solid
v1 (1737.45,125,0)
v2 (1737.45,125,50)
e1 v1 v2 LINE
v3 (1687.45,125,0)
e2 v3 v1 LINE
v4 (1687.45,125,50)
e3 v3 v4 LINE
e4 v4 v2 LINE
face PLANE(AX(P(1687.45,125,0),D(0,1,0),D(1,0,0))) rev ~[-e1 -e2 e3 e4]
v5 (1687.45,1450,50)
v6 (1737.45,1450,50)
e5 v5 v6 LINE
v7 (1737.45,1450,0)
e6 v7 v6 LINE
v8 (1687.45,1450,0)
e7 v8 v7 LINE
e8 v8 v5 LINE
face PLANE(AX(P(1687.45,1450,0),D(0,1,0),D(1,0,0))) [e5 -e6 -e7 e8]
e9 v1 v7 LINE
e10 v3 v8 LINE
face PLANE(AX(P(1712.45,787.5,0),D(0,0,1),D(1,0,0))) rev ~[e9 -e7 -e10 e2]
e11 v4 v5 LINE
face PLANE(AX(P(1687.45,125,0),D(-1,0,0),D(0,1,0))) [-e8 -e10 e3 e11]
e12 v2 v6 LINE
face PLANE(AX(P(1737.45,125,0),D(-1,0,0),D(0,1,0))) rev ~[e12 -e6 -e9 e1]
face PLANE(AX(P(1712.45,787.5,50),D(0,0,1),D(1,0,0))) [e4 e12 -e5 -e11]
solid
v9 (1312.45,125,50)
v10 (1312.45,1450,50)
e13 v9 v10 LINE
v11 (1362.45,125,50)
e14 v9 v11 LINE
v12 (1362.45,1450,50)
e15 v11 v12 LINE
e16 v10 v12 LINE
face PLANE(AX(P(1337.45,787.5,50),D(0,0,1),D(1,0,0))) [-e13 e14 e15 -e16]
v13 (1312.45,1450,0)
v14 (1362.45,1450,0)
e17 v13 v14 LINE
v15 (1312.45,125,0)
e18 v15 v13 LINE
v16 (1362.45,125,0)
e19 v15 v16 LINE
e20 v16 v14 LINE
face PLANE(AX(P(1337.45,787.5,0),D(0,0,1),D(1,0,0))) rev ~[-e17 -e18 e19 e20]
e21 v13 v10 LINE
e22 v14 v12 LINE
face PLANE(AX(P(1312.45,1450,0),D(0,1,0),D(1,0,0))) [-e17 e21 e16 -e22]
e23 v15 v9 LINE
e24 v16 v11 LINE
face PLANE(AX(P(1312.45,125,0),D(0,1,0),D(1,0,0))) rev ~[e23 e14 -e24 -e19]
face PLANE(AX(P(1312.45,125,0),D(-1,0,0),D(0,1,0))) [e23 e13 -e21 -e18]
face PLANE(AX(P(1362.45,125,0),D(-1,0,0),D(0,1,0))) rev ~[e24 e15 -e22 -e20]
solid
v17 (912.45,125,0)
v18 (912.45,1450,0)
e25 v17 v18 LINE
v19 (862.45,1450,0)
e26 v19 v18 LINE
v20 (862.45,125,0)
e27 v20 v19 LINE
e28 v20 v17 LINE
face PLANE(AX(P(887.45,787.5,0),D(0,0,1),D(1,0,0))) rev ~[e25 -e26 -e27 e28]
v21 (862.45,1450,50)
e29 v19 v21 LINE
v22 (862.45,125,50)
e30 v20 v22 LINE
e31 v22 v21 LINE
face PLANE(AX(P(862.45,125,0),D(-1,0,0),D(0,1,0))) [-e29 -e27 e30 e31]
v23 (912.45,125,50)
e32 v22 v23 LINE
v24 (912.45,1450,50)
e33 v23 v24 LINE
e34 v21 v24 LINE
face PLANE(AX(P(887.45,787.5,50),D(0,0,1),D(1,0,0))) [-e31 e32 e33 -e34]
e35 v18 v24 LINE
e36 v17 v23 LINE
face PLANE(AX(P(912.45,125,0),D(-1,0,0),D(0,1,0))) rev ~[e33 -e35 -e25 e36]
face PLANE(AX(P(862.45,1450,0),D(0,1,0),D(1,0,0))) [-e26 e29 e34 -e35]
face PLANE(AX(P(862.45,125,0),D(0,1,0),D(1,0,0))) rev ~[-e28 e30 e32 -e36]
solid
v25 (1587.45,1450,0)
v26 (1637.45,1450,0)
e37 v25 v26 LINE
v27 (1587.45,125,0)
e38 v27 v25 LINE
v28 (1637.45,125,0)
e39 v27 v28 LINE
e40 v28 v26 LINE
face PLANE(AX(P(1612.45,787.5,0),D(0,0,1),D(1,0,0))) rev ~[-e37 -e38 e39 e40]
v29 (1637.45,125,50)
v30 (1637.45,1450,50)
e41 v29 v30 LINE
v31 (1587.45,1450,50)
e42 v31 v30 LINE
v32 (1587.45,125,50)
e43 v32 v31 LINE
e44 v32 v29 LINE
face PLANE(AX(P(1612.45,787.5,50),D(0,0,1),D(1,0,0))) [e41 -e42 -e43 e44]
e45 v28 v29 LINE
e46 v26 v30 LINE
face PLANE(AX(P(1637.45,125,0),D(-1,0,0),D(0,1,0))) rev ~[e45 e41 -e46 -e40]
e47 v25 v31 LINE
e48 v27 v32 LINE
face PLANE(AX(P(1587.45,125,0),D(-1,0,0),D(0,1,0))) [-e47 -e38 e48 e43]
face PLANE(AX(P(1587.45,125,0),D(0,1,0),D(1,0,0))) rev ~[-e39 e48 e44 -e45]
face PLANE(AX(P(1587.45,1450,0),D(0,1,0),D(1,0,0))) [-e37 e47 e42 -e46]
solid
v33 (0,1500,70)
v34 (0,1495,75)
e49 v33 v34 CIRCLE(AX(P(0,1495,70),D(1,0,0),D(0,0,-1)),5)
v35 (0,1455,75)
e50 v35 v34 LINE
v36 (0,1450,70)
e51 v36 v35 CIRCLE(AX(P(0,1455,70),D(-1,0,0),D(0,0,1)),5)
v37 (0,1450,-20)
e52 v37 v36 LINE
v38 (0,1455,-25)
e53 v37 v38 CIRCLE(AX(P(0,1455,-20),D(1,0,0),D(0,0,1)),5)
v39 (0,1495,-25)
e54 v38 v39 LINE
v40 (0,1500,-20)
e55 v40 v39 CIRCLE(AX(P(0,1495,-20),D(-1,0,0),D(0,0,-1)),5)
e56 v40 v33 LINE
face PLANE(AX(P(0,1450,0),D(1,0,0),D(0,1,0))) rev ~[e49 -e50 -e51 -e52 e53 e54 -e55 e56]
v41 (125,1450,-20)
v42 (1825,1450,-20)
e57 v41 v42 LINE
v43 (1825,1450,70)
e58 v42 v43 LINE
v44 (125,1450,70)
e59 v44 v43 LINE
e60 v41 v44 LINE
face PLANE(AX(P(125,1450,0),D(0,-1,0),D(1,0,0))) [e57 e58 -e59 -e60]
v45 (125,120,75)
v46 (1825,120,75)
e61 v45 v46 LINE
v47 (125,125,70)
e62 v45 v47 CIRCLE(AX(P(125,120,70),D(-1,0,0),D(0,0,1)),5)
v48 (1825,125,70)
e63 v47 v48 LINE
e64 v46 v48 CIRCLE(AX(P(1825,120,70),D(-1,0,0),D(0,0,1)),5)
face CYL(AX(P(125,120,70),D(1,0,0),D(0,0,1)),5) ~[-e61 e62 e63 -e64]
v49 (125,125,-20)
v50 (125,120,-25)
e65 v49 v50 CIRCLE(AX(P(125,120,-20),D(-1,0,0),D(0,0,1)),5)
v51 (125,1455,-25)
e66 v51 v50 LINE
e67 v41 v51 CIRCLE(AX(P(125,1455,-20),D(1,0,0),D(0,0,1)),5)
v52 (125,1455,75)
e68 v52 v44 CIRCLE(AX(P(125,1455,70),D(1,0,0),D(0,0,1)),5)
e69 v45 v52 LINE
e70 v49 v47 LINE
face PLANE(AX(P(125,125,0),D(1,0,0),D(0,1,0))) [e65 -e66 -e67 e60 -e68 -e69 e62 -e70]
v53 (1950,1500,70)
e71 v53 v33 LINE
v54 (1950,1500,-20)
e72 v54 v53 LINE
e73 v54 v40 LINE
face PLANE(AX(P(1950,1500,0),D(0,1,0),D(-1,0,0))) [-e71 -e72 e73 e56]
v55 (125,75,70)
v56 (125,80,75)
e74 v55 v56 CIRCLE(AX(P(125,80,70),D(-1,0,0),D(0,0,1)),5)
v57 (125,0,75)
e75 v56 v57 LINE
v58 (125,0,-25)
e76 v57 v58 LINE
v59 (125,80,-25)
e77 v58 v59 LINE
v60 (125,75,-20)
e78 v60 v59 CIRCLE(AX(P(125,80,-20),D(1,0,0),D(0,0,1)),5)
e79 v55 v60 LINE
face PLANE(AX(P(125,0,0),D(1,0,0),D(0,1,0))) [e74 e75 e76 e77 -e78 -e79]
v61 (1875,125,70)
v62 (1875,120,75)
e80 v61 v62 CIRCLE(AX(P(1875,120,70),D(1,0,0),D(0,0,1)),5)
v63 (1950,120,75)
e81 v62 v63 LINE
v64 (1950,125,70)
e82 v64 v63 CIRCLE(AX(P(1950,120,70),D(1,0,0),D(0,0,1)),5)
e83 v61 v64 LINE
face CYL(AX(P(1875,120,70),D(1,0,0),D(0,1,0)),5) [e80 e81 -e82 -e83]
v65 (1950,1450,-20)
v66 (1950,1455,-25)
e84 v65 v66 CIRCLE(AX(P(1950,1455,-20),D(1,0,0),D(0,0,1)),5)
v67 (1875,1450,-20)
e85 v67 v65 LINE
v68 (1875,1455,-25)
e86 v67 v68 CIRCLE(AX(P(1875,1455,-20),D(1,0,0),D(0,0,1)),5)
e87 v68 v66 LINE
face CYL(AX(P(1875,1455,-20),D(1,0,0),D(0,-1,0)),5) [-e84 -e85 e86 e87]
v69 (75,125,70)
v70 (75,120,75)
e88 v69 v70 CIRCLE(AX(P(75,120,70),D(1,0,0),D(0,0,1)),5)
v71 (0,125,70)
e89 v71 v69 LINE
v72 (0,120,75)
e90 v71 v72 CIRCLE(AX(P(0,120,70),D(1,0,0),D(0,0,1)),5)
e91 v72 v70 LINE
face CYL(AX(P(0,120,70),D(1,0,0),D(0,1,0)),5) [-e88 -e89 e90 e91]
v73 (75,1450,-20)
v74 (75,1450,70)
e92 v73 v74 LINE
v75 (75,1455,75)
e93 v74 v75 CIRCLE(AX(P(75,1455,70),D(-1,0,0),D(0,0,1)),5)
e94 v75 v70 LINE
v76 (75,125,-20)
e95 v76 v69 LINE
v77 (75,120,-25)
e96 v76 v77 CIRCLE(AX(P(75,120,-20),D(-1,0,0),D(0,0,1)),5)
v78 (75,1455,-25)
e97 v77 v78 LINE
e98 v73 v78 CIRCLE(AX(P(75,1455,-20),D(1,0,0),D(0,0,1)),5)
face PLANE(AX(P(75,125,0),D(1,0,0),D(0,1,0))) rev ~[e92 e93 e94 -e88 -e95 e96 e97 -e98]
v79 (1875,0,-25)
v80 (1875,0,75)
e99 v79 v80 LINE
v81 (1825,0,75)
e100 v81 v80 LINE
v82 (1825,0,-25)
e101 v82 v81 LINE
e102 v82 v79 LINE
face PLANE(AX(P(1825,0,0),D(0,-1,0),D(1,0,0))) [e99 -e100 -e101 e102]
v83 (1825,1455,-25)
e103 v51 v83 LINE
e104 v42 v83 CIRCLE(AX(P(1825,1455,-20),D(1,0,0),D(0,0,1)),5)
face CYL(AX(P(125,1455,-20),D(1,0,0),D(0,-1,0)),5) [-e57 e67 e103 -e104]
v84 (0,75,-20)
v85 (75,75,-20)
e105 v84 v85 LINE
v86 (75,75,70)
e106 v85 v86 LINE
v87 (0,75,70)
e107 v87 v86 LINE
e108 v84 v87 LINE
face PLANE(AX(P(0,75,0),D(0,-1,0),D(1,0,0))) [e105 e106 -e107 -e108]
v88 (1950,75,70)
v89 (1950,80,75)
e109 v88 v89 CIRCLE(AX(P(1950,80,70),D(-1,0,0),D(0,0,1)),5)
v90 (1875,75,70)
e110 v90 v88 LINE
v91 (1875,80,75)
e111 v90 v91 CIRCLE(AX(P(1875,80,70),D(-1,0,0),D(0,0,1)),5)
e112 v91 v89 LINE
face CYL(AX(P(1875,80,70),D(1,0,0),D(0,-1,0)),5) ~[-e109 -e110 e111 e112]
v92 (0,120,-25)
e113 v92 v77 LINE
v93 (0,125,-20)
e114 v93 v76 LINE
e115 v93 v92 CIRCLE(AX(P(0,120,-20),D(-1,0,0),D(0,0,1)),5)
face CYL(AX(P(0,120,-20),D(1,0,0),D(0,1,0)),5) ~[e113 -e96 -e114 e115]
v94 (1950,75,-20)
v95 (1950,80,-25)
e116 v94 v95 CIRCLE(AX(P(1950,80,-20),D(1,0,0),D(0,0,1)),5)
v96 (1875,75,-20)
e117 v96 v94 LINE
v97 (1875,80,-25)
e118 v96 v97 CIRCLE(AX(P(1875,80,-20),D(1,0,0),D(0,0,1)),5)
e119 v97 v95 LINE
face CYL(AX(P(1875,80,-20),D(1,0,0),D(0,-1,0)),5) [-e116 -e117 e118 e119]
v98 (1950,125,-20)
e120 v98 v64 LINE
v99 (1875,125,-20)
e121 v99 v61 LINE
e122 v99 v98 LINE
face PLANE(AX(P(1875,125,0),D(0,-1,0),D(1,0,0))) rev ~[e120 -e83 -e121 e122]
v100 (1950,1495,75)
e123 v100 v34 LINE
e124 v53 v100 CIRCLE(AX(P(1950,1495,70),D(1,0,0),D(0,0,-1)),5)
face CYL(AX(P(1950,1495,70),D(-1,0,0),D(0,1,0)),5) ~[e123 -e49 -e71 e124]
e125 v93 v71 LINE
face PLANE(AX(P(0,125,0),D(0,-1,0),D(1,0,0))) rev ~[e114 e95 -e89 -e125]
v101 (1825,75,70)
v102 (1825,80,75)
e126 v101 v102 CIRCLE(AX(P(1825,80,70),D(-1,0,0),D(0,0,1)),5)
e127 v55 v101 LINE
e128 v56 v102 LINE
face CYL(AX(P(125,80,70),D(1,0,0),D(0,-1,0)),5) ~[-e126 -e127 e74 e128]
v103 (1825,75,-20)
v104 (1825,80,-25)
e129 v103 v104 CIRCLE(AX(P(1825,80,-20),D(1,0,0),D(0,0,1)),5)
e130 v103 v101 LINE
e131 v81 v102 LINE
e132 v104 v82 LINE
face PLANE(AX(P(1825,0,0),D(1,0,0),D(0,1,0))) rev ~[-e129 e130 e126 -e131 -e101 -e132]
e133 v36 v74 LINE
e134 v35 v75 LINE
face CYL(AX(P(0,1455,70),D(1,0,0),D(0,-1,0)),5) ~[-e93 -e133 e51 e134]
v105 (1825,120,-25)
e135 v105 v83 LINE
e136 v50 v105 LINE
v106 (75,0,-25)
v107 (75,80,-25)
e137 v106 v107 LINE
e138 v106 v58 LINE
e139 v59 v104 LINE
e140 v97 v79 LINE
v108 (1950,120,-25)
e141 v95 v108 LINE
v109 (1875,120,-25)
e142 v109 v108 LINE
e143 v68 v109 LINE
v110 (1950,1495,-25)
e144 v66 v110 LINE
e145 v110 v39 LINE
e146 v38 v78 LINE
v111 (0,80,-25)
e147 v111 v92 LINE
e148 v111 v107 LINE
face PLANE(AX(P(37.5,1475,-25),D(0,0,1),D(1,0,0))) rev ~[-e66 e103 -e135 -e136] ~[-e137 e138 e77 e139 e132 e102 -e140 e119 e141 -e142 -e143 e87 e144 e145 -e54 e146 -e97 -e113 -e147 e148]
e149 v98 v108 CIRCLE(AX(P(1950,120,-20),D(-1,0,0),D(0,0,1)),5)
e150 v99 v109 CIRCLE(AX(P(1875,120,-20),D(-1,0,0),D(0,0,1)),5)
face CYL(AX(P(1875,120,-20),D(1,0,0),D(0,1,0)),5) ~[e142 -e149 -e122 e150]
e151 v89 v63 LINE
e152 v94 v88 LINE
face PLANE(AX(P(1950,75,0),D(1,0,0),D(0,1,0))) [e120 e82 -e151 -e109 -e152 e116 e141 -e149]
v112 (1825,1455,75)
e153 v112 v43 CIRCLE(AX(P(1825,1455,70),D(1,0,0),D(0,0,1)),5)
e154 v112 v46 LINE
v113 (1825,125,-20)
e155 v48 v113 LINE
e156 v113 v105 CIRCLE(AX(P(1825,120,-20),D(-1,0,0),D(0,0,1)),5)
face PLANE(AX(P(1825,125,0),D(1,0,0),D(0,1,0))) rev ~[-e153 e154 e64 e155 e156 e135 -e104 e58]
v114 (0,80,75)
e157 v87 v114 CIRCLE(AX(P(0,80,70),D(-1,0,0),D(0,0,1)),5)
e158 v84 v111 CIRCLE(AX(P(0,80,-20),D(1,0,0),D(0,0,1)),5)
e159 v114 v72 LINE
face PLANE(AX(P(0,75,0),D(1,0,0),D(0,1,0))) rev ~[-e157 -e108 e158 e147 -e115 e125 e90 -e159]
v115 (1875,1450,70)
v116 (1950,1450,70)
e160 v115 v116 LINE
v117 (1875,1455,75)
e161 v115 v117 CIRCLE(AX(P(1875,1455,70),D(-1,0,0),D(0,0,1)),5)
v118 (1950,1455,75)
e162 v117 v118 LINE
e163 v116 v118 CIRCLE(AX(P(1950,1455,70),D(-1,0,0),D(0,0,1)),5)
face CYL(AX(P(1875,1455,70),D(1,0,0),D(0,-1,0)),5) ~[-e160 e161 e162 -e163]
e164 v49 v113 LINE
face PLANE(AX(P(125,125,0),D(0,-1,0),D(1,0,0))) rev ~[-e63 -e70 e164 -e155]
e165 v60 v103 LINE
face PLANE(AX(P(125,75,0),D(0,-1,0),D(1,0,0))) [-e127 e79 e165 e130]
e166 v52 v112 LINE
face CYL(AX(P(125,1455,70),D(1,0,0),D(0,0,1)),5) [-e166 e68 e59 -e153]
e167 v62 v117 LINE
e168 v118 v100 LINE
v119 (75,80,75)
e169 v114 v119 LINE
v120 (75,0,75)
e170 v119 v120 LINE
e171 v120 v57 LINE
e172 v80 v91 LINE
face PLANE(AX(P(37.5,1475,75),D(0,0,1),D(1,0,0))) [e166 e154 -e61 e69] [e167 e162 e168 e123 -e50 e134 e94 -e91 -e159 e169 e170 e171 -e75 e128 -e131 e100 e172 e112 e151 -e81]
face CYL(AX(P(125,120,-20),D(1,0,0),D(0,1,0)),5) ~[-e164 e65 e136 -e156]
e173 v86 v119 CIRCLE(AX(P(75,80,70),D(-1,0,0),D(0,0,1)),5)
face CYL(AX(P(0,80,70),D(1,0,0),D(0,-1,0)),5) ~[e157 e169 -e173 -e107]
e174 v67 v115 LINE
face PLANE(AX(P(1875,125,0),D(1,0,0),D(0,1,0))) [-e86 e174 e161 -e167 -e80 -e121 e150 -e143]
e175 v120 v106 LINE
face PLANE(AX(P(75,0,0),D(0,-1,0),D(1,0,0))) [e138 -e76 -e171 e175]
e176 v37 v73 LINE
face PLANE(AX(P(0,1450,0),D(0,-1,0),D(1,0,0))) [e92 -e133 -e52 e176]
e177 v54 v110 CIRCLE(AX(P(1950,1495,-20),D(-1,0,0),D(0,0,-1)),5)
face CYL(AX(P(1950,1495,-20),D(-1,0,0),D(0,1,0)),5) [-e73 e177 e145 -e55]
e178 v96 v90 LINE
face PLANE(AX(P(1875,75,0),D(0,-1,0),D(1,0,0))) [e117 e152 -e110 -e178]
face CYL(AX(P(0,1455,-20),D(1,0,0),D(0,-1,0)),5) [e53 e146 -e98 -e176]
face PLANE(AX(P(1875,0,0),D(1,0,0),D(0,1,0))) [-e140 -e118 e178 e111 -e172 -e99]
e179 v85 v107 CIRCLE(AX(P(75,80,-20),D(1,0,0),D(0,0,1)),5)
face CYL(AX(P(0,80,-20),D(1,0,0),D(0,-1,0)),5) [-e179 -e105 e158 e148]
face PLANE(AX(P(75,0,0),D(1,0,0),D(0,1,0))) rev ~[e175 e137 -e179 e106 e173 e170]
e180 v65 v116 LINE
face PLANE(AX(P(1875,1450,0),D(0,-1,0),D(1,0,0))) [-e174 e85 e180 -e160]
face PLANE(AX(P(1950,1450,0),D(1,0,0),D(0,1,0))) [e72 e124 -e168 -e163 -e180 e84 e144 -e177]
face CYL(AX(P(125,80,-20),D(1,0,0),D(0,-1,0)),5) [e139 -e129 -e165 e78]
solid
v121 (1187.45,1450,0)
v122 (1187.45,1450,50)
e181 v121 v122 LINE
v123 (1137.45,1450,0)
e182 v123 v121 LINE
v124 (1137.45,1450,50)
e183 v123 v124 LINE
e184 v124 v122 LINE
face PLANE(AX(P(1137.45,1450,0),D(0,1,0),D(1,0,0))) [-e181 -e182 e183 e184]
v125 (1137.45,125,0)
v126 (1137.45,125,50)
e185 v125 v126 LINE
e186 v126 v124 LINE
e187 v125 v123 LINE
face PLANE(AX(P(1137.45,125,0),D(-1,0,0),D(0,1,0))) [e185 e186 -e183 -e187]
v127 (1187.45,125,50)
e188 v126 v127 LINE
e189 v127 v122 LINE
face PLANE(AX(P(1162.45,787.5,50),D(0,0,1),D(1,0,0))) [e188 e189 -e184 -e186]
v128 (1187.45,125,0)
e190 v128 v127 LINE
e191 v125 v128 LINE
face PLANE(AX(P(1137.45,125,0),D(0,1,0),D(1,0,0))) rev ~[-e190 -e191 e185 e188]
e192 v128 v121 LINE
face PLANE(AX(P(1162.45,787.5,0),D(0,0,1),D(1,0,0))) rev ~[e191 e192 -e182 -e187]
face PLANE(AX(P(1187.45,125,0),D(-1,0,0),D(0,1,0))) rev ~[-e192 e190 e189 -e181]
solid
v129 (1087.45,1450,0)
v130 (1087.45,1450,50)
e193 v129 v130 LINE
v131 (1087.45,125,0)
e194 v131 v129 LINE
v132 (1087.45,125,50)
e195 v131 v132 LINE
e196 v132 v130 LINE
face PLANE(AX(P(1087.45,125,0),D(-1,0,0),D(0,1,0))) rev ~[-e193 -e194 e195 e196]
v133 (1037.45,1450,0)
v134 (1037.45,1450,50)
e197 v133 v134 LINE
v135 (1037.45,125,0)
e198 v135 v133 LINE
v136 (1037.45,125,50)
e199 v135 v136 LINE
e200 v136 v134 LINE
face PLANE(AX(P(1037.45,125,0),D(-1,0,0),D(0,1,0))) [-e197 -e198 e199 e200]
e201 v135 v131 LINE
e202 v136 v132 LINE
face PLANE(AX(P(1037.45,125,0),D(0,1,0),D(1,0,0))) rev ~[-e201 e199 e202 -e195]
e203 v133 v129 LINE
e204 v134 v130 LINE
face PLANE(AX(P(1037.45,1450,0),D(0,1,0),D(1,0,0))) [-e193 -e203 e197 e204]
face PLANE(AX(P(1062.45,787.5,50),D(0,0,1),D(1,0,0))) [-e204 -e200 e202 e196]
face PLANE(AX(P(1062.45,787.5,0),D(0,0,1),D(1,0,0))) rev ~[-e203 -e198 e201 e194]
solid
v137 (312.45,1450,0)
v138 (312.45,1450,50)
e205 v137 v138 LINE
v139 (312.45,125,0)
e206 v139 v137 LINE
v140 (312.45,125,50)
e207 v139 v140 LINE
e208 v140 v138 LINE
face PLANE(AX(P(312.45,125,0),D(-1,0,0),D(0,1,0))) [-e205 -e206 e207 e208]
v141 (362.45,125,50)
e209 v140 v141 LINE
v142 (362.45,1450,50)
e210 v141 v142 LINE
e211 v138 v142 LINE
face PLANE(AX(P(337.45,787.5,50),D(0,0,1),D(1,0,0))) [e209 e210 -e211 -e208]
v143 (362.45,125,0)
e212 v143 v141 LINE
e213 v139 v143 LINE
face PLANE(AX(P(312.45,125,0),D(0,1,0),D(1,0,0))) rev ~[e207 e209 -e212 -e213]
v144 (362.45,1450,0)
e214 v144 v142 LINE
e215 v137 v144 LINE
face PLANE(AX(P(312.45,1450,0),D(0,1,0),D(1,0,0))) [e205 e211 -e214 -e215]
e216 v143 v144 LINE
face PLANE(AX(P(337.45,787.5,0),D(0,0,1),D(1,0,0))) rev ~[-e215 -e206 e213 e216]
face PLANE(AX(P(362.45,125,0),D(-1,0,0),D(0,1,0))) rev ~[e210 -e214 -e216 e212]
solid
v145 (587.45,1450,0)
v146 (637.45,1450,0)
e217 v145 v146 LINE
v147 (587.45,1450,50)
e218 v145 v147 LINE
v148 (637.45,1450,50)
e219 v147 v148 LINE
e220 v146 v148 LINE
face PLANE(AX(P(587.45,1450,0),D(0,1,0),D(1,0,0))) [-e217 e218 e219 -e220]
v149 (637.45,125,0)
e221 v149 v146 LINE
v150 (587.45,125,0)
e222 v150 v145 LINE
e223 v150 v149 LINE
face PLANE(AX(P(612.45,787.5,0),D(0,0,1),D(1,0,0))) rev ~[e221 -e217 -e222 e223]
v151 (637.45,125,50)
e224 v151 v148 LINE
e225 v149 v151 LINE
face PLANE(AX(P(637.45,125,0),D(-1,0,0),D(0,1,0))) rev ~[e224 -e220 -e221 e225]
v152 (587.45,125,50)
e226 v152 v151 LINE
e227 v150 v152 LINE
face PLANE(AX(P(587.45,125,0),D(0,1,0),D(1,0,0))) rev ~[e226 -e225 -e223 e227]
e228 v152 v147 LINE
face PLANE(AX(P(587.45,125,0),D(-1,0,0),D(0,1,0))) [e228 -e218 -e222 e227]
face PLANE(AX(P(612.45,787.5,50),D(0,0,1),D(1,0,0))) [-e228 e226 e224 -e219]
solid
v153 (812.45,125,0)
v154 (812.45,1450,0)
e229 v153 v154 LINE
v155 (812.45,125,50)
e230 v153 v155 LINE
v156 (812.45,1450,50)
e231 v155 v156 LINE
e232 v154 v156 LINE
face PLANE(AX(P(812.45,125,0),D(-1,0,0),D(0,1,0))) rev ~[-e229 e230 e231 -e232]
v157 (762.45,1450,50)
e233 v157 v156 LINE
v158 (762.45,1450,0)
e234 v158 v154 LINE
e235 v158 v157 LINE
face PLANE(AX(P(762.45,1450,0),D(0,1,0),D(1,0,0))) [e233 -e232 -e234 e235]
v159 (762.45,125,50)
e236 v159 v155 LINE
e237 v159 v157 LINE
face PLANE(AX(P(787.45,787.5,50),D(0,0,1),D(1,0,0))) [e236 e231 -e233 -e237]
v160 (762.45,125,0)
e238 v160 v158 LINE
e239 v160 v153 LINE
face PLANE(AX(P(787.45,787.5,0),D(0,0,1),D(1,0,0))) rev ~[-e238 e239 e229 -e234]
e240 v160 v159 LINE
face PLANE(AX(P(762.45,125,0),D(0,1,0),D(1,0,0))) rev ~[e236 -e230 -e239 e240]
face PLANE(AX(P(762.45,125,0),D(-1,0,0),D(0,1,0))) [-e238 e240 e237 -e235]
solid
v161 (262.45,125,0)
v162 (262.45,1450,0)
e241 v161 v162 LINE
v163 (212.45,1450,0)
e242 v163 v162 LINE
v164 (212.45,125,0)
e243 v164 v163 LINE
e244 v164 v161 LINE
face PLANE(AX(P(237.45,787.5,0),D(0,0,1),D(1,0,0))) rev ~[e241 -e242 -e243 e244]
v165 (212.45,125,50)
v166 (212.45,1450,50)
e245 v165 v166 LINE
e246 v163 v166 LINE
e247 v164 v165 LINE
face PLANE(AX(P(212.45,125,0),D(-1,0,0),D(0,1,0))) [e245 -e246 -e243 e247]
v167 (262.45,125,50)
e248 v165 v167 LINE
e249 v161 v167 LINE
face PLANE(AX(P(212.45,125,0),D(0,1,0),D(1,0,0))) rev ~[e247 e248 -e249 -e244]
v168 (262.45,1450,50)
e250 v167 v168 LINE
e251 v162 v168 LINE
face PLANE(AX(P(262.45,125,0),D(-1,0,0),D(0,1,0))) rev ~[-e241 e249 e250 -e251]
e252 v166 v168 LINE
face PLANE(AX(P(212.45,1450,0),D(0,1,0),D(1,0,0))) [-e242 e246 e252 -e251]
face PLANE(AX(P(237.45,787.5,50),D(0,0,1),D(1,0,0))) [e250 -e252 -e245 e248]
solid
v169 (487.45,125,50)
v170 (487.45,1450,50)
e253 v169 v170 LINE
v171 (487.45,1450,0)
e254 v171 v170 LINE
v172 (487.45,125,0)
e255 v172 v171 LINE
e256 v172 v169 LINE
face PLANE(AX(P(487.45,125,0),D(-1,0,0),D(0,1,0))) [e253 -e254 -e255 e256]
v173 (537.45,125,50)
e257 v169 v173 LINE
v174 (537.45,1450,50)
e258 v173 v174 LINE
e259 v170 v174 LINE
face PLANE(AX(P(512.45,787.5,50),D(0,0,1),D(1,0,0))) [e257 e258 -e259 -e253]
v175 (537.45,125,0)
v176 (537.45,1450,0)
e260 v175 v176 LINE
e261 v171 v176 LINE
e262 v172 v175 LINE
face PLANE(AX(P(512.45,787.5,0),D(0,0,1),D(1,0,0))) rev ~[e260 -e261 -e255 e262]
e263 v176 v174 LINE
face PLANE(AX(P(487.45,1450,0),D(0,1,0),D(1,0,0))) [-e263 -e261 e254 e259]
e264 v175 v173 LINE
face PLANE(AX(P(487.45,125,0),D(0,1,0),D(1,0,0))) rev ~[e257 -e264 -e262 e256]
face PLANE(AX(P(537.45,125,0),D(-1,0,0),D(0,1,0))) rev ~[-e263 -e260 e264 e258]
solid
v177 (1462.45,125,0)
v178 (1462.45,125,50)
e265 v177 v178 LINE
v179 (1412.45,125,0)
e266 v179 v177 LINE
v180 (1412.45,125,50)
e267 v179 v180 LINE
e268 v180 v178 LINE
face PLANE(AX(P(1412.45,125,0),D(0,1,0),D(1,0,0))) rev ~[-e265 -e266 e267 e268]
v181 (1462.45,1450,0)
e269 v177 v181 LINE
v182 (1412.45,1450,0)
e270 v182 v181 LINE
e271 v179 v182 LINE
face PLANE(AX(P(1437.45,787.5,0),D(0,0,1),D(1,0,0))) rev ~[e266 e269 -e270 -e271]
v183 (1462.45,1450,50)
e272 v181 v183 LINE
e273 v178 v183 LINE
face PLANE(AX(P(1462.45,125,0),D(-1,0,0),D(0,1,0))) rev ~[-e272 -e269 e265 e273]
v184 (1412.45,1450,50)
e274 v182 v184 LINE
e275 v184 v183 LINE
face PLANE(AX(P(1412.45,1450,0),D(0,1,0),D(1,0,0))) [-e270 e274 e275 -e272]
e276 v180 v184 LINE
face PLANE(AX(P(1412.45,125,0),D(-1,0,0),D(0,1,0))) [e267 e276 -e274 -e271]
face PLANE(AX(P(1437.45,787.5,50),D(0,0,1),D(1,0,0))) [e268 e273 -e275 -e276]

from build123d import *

# Parameters (mm, degrees)
F0_W          = 75
F0_H          = 50
F0_W_2        = 50
F0_W_3        = 1700
F0_H_2        = 1325
F0_H_3        = 75
F1_DEPTH      = 75
F1_DEPTH_BACK = 25
F2_R          = 5
F3_W          = 50
F3_H          = 1325
F4_DEPTH      = 50


with BuildPart() as f1:
    # F0 (on Top) → F1 (new body, two sides)
    with BuildSketch(Plane.XY) as f1_sk:
        with Locations((37.5, 1475)):
            Rectangle(F0_W, F0_H)
        with Locations((100, 1475)):
            Rectangle(F0_W_2, F0_H)
        with Locations((975, 1475)):
            Rectangle(F0_W_3, F0_H)
        with Locations((100, 787.5)):
            Rectangle(F0_W_2, F0_H_2)
        with Locations((1850, 1475)):
            Rectangle(F0_W_2, F0_H)
        with Locations((37.5, 100)):
            Rectangle(F0_W, F0_H)
        with Locations((100, 100)):
            Rectangle(F0_W_2, F0_H)
        with Locations((1912.5, 1475)):
            Rectangle(F0_W, F0_H)
        with Locations((1850, 787.5)):
            Rectangle(F0_W_2, F0_H_2)
        with Locations((975, 100)):
            Rectangle(F0_W_3, F0_H)
        with Locations((100, 37.5)):
            Rectangle(F0_W_2, F0_H_3)
        with Locations((1850, 100)):
            Rectangle(F0_W_2, F0_H)
        with Locations((1912.5, 100)):
            Rectangle(F0_W, F0_H)
        with Locations((1850, 37.5)):
            Rectangle(F0_W_2, F0_H_3)
    extrude(amount=F1_DEPTH)
    extrude(f1_sk.sketch, amount=-F1_DEPTH_BACK)

    # F2
    f2_edges = [f1.edges().sort_by_distance(p)[0] for p in [
        (975, 1450, 75),
        (975, 1500, 75),
        (975, 125, 75),
        (975, 75, 75),
        (37.5, 75, 75),
        (37.5, 125, 75),
        (1912.5, 125, 75),
        (1912.5, 75, 75),
        (1912.5, 1450, 75),
        (37.5, 1450, 75),
        (975, 1500, -25),
        (975, 1450, -25),
        (1912.5, 1450, -25),
        (1912.5, 75, -25),
        (1912.5, 125, -25),
        (975, 125, -25),
        (975, 75, -25),
        (37.5, 125, -25),
        (37.5, 75, -25),
        (37.5, 1450, -25),
    ]]
    fillet(f2_edges, radius=F2_R)


with BuildPart() as f4:
    # F3 (on Top) → F4 (new body)
    with BuildSketch(Plane.XY):
        with Locations((237.45, 787.5)):
            Rectangle(F3_W, F3_H)
    extrude(amount=F4_DEPTH)


with BuildPart() as f4b:
    # F3 (on Top) → F4, piece 2 (new body)
    with BuildSketch(Plane.XY):
        with Locations((337.45, 787.5)):
            Rectangle(F3_W, F3_H)
    extrude(amount=F4_DEPTH)


with BuildPart() as f4c:
    # F3 (on Top) → F4, piece 3 (new body)
    with BuildSketch(Plane.XY):
        with Locations((612.45, 787.5)):
            Rectangle(F3_W, F3_H)
    extrude(amount=F4_DEPTH)


with BuildPart() as f4d:
    # F3 (on Top) → F4, piece 4 (new body)
    with BuildSketch(Plane.XY):
        with Locations((512.45, 787.5)):
            Rectangle(F3_W, F3_H)
    extrude(amount=F4_DEPTH)


with BuildPart() as f4e:
    # F3 (on Top) → F4, piece 5 (new body)
    with BuildSketch(Plane.XY):
        with Locations((887.45, 787.5)):
            Rectangle(F3_W, F3_H)
    extrude(amount=F4_DEPTH)


with BuildPart() as f4f:
    # F3 (on Top) → F4, piece 6 (new body)
    with BuildSketch(Plane.XY):
        with Locations((787.45, 787.5)):
            Rectangle(F3_W, F3_H)
    extrude(amount=F4_DEPTH)


with BuildPart() as f4g:
    # F3 (on Top) → F4, piece 7 (new body)
    with BuildSketch(Plane.XY):
        with Locations((1162.45, 787.5)):
            Rectangle(F3_W, F3_H)
    extrude(amount=F4_DEPTH)


with BuildPart() as f4h:
    # F3 (on Top) → F4, piece 8 (new body)
    with BuildSketch(Plane.XY):
        with Locations((1062.45, 787.5)):
            Rectangle(F3_W, F3_H)
    extrude(amount=F4_DEPTH)


with BuildPart() as f4i:
    # F3 (on Top) → F4, piece 9 (new body)
    with BuildSketch(Plane.XY):
        with Locations((1437.45, 787.5)):
            Rectangle(F3_W, F3_H)
    extrude(amount=F4_DEPTH)


with BuildPart() as f4j:
    # F3 (on Top) → F4, piece 10 (new body)
    with BuildSketch(Plane.XY):
        with Locations((1337.45, 787.5)):
            Rectangle(F3_W, F3_H)
    extrude(amount=F4_DEPTH)


with BuildPart() as f4k:
    # F3 (on Top) → F4, piece 11 (new body)
    with BuildSketch(Plane.XY):
        with Locations((1712.45, 787.5)):
            Rectangle(F3_W, F3_H)
    extrude(amount=F4_DEPTH)


with BuildPart() as f4l:
    # F3 (on Top) → F4, piece 12 (new body)
    with BuildSketch(Plane.XY):
        with Locations((1612.45, 787.5)):
            Rectangle(F3_W, F3_H)
    extrude(amount=F4_DEPTH)


solid = Compound([f1.part, f4.part, f4b.part, f4c.part, f4d.part, f4e.part, f4f.part, f4g.part, f4h.part, f4i.part, f4j.part, f4k.part, f4l.part])
